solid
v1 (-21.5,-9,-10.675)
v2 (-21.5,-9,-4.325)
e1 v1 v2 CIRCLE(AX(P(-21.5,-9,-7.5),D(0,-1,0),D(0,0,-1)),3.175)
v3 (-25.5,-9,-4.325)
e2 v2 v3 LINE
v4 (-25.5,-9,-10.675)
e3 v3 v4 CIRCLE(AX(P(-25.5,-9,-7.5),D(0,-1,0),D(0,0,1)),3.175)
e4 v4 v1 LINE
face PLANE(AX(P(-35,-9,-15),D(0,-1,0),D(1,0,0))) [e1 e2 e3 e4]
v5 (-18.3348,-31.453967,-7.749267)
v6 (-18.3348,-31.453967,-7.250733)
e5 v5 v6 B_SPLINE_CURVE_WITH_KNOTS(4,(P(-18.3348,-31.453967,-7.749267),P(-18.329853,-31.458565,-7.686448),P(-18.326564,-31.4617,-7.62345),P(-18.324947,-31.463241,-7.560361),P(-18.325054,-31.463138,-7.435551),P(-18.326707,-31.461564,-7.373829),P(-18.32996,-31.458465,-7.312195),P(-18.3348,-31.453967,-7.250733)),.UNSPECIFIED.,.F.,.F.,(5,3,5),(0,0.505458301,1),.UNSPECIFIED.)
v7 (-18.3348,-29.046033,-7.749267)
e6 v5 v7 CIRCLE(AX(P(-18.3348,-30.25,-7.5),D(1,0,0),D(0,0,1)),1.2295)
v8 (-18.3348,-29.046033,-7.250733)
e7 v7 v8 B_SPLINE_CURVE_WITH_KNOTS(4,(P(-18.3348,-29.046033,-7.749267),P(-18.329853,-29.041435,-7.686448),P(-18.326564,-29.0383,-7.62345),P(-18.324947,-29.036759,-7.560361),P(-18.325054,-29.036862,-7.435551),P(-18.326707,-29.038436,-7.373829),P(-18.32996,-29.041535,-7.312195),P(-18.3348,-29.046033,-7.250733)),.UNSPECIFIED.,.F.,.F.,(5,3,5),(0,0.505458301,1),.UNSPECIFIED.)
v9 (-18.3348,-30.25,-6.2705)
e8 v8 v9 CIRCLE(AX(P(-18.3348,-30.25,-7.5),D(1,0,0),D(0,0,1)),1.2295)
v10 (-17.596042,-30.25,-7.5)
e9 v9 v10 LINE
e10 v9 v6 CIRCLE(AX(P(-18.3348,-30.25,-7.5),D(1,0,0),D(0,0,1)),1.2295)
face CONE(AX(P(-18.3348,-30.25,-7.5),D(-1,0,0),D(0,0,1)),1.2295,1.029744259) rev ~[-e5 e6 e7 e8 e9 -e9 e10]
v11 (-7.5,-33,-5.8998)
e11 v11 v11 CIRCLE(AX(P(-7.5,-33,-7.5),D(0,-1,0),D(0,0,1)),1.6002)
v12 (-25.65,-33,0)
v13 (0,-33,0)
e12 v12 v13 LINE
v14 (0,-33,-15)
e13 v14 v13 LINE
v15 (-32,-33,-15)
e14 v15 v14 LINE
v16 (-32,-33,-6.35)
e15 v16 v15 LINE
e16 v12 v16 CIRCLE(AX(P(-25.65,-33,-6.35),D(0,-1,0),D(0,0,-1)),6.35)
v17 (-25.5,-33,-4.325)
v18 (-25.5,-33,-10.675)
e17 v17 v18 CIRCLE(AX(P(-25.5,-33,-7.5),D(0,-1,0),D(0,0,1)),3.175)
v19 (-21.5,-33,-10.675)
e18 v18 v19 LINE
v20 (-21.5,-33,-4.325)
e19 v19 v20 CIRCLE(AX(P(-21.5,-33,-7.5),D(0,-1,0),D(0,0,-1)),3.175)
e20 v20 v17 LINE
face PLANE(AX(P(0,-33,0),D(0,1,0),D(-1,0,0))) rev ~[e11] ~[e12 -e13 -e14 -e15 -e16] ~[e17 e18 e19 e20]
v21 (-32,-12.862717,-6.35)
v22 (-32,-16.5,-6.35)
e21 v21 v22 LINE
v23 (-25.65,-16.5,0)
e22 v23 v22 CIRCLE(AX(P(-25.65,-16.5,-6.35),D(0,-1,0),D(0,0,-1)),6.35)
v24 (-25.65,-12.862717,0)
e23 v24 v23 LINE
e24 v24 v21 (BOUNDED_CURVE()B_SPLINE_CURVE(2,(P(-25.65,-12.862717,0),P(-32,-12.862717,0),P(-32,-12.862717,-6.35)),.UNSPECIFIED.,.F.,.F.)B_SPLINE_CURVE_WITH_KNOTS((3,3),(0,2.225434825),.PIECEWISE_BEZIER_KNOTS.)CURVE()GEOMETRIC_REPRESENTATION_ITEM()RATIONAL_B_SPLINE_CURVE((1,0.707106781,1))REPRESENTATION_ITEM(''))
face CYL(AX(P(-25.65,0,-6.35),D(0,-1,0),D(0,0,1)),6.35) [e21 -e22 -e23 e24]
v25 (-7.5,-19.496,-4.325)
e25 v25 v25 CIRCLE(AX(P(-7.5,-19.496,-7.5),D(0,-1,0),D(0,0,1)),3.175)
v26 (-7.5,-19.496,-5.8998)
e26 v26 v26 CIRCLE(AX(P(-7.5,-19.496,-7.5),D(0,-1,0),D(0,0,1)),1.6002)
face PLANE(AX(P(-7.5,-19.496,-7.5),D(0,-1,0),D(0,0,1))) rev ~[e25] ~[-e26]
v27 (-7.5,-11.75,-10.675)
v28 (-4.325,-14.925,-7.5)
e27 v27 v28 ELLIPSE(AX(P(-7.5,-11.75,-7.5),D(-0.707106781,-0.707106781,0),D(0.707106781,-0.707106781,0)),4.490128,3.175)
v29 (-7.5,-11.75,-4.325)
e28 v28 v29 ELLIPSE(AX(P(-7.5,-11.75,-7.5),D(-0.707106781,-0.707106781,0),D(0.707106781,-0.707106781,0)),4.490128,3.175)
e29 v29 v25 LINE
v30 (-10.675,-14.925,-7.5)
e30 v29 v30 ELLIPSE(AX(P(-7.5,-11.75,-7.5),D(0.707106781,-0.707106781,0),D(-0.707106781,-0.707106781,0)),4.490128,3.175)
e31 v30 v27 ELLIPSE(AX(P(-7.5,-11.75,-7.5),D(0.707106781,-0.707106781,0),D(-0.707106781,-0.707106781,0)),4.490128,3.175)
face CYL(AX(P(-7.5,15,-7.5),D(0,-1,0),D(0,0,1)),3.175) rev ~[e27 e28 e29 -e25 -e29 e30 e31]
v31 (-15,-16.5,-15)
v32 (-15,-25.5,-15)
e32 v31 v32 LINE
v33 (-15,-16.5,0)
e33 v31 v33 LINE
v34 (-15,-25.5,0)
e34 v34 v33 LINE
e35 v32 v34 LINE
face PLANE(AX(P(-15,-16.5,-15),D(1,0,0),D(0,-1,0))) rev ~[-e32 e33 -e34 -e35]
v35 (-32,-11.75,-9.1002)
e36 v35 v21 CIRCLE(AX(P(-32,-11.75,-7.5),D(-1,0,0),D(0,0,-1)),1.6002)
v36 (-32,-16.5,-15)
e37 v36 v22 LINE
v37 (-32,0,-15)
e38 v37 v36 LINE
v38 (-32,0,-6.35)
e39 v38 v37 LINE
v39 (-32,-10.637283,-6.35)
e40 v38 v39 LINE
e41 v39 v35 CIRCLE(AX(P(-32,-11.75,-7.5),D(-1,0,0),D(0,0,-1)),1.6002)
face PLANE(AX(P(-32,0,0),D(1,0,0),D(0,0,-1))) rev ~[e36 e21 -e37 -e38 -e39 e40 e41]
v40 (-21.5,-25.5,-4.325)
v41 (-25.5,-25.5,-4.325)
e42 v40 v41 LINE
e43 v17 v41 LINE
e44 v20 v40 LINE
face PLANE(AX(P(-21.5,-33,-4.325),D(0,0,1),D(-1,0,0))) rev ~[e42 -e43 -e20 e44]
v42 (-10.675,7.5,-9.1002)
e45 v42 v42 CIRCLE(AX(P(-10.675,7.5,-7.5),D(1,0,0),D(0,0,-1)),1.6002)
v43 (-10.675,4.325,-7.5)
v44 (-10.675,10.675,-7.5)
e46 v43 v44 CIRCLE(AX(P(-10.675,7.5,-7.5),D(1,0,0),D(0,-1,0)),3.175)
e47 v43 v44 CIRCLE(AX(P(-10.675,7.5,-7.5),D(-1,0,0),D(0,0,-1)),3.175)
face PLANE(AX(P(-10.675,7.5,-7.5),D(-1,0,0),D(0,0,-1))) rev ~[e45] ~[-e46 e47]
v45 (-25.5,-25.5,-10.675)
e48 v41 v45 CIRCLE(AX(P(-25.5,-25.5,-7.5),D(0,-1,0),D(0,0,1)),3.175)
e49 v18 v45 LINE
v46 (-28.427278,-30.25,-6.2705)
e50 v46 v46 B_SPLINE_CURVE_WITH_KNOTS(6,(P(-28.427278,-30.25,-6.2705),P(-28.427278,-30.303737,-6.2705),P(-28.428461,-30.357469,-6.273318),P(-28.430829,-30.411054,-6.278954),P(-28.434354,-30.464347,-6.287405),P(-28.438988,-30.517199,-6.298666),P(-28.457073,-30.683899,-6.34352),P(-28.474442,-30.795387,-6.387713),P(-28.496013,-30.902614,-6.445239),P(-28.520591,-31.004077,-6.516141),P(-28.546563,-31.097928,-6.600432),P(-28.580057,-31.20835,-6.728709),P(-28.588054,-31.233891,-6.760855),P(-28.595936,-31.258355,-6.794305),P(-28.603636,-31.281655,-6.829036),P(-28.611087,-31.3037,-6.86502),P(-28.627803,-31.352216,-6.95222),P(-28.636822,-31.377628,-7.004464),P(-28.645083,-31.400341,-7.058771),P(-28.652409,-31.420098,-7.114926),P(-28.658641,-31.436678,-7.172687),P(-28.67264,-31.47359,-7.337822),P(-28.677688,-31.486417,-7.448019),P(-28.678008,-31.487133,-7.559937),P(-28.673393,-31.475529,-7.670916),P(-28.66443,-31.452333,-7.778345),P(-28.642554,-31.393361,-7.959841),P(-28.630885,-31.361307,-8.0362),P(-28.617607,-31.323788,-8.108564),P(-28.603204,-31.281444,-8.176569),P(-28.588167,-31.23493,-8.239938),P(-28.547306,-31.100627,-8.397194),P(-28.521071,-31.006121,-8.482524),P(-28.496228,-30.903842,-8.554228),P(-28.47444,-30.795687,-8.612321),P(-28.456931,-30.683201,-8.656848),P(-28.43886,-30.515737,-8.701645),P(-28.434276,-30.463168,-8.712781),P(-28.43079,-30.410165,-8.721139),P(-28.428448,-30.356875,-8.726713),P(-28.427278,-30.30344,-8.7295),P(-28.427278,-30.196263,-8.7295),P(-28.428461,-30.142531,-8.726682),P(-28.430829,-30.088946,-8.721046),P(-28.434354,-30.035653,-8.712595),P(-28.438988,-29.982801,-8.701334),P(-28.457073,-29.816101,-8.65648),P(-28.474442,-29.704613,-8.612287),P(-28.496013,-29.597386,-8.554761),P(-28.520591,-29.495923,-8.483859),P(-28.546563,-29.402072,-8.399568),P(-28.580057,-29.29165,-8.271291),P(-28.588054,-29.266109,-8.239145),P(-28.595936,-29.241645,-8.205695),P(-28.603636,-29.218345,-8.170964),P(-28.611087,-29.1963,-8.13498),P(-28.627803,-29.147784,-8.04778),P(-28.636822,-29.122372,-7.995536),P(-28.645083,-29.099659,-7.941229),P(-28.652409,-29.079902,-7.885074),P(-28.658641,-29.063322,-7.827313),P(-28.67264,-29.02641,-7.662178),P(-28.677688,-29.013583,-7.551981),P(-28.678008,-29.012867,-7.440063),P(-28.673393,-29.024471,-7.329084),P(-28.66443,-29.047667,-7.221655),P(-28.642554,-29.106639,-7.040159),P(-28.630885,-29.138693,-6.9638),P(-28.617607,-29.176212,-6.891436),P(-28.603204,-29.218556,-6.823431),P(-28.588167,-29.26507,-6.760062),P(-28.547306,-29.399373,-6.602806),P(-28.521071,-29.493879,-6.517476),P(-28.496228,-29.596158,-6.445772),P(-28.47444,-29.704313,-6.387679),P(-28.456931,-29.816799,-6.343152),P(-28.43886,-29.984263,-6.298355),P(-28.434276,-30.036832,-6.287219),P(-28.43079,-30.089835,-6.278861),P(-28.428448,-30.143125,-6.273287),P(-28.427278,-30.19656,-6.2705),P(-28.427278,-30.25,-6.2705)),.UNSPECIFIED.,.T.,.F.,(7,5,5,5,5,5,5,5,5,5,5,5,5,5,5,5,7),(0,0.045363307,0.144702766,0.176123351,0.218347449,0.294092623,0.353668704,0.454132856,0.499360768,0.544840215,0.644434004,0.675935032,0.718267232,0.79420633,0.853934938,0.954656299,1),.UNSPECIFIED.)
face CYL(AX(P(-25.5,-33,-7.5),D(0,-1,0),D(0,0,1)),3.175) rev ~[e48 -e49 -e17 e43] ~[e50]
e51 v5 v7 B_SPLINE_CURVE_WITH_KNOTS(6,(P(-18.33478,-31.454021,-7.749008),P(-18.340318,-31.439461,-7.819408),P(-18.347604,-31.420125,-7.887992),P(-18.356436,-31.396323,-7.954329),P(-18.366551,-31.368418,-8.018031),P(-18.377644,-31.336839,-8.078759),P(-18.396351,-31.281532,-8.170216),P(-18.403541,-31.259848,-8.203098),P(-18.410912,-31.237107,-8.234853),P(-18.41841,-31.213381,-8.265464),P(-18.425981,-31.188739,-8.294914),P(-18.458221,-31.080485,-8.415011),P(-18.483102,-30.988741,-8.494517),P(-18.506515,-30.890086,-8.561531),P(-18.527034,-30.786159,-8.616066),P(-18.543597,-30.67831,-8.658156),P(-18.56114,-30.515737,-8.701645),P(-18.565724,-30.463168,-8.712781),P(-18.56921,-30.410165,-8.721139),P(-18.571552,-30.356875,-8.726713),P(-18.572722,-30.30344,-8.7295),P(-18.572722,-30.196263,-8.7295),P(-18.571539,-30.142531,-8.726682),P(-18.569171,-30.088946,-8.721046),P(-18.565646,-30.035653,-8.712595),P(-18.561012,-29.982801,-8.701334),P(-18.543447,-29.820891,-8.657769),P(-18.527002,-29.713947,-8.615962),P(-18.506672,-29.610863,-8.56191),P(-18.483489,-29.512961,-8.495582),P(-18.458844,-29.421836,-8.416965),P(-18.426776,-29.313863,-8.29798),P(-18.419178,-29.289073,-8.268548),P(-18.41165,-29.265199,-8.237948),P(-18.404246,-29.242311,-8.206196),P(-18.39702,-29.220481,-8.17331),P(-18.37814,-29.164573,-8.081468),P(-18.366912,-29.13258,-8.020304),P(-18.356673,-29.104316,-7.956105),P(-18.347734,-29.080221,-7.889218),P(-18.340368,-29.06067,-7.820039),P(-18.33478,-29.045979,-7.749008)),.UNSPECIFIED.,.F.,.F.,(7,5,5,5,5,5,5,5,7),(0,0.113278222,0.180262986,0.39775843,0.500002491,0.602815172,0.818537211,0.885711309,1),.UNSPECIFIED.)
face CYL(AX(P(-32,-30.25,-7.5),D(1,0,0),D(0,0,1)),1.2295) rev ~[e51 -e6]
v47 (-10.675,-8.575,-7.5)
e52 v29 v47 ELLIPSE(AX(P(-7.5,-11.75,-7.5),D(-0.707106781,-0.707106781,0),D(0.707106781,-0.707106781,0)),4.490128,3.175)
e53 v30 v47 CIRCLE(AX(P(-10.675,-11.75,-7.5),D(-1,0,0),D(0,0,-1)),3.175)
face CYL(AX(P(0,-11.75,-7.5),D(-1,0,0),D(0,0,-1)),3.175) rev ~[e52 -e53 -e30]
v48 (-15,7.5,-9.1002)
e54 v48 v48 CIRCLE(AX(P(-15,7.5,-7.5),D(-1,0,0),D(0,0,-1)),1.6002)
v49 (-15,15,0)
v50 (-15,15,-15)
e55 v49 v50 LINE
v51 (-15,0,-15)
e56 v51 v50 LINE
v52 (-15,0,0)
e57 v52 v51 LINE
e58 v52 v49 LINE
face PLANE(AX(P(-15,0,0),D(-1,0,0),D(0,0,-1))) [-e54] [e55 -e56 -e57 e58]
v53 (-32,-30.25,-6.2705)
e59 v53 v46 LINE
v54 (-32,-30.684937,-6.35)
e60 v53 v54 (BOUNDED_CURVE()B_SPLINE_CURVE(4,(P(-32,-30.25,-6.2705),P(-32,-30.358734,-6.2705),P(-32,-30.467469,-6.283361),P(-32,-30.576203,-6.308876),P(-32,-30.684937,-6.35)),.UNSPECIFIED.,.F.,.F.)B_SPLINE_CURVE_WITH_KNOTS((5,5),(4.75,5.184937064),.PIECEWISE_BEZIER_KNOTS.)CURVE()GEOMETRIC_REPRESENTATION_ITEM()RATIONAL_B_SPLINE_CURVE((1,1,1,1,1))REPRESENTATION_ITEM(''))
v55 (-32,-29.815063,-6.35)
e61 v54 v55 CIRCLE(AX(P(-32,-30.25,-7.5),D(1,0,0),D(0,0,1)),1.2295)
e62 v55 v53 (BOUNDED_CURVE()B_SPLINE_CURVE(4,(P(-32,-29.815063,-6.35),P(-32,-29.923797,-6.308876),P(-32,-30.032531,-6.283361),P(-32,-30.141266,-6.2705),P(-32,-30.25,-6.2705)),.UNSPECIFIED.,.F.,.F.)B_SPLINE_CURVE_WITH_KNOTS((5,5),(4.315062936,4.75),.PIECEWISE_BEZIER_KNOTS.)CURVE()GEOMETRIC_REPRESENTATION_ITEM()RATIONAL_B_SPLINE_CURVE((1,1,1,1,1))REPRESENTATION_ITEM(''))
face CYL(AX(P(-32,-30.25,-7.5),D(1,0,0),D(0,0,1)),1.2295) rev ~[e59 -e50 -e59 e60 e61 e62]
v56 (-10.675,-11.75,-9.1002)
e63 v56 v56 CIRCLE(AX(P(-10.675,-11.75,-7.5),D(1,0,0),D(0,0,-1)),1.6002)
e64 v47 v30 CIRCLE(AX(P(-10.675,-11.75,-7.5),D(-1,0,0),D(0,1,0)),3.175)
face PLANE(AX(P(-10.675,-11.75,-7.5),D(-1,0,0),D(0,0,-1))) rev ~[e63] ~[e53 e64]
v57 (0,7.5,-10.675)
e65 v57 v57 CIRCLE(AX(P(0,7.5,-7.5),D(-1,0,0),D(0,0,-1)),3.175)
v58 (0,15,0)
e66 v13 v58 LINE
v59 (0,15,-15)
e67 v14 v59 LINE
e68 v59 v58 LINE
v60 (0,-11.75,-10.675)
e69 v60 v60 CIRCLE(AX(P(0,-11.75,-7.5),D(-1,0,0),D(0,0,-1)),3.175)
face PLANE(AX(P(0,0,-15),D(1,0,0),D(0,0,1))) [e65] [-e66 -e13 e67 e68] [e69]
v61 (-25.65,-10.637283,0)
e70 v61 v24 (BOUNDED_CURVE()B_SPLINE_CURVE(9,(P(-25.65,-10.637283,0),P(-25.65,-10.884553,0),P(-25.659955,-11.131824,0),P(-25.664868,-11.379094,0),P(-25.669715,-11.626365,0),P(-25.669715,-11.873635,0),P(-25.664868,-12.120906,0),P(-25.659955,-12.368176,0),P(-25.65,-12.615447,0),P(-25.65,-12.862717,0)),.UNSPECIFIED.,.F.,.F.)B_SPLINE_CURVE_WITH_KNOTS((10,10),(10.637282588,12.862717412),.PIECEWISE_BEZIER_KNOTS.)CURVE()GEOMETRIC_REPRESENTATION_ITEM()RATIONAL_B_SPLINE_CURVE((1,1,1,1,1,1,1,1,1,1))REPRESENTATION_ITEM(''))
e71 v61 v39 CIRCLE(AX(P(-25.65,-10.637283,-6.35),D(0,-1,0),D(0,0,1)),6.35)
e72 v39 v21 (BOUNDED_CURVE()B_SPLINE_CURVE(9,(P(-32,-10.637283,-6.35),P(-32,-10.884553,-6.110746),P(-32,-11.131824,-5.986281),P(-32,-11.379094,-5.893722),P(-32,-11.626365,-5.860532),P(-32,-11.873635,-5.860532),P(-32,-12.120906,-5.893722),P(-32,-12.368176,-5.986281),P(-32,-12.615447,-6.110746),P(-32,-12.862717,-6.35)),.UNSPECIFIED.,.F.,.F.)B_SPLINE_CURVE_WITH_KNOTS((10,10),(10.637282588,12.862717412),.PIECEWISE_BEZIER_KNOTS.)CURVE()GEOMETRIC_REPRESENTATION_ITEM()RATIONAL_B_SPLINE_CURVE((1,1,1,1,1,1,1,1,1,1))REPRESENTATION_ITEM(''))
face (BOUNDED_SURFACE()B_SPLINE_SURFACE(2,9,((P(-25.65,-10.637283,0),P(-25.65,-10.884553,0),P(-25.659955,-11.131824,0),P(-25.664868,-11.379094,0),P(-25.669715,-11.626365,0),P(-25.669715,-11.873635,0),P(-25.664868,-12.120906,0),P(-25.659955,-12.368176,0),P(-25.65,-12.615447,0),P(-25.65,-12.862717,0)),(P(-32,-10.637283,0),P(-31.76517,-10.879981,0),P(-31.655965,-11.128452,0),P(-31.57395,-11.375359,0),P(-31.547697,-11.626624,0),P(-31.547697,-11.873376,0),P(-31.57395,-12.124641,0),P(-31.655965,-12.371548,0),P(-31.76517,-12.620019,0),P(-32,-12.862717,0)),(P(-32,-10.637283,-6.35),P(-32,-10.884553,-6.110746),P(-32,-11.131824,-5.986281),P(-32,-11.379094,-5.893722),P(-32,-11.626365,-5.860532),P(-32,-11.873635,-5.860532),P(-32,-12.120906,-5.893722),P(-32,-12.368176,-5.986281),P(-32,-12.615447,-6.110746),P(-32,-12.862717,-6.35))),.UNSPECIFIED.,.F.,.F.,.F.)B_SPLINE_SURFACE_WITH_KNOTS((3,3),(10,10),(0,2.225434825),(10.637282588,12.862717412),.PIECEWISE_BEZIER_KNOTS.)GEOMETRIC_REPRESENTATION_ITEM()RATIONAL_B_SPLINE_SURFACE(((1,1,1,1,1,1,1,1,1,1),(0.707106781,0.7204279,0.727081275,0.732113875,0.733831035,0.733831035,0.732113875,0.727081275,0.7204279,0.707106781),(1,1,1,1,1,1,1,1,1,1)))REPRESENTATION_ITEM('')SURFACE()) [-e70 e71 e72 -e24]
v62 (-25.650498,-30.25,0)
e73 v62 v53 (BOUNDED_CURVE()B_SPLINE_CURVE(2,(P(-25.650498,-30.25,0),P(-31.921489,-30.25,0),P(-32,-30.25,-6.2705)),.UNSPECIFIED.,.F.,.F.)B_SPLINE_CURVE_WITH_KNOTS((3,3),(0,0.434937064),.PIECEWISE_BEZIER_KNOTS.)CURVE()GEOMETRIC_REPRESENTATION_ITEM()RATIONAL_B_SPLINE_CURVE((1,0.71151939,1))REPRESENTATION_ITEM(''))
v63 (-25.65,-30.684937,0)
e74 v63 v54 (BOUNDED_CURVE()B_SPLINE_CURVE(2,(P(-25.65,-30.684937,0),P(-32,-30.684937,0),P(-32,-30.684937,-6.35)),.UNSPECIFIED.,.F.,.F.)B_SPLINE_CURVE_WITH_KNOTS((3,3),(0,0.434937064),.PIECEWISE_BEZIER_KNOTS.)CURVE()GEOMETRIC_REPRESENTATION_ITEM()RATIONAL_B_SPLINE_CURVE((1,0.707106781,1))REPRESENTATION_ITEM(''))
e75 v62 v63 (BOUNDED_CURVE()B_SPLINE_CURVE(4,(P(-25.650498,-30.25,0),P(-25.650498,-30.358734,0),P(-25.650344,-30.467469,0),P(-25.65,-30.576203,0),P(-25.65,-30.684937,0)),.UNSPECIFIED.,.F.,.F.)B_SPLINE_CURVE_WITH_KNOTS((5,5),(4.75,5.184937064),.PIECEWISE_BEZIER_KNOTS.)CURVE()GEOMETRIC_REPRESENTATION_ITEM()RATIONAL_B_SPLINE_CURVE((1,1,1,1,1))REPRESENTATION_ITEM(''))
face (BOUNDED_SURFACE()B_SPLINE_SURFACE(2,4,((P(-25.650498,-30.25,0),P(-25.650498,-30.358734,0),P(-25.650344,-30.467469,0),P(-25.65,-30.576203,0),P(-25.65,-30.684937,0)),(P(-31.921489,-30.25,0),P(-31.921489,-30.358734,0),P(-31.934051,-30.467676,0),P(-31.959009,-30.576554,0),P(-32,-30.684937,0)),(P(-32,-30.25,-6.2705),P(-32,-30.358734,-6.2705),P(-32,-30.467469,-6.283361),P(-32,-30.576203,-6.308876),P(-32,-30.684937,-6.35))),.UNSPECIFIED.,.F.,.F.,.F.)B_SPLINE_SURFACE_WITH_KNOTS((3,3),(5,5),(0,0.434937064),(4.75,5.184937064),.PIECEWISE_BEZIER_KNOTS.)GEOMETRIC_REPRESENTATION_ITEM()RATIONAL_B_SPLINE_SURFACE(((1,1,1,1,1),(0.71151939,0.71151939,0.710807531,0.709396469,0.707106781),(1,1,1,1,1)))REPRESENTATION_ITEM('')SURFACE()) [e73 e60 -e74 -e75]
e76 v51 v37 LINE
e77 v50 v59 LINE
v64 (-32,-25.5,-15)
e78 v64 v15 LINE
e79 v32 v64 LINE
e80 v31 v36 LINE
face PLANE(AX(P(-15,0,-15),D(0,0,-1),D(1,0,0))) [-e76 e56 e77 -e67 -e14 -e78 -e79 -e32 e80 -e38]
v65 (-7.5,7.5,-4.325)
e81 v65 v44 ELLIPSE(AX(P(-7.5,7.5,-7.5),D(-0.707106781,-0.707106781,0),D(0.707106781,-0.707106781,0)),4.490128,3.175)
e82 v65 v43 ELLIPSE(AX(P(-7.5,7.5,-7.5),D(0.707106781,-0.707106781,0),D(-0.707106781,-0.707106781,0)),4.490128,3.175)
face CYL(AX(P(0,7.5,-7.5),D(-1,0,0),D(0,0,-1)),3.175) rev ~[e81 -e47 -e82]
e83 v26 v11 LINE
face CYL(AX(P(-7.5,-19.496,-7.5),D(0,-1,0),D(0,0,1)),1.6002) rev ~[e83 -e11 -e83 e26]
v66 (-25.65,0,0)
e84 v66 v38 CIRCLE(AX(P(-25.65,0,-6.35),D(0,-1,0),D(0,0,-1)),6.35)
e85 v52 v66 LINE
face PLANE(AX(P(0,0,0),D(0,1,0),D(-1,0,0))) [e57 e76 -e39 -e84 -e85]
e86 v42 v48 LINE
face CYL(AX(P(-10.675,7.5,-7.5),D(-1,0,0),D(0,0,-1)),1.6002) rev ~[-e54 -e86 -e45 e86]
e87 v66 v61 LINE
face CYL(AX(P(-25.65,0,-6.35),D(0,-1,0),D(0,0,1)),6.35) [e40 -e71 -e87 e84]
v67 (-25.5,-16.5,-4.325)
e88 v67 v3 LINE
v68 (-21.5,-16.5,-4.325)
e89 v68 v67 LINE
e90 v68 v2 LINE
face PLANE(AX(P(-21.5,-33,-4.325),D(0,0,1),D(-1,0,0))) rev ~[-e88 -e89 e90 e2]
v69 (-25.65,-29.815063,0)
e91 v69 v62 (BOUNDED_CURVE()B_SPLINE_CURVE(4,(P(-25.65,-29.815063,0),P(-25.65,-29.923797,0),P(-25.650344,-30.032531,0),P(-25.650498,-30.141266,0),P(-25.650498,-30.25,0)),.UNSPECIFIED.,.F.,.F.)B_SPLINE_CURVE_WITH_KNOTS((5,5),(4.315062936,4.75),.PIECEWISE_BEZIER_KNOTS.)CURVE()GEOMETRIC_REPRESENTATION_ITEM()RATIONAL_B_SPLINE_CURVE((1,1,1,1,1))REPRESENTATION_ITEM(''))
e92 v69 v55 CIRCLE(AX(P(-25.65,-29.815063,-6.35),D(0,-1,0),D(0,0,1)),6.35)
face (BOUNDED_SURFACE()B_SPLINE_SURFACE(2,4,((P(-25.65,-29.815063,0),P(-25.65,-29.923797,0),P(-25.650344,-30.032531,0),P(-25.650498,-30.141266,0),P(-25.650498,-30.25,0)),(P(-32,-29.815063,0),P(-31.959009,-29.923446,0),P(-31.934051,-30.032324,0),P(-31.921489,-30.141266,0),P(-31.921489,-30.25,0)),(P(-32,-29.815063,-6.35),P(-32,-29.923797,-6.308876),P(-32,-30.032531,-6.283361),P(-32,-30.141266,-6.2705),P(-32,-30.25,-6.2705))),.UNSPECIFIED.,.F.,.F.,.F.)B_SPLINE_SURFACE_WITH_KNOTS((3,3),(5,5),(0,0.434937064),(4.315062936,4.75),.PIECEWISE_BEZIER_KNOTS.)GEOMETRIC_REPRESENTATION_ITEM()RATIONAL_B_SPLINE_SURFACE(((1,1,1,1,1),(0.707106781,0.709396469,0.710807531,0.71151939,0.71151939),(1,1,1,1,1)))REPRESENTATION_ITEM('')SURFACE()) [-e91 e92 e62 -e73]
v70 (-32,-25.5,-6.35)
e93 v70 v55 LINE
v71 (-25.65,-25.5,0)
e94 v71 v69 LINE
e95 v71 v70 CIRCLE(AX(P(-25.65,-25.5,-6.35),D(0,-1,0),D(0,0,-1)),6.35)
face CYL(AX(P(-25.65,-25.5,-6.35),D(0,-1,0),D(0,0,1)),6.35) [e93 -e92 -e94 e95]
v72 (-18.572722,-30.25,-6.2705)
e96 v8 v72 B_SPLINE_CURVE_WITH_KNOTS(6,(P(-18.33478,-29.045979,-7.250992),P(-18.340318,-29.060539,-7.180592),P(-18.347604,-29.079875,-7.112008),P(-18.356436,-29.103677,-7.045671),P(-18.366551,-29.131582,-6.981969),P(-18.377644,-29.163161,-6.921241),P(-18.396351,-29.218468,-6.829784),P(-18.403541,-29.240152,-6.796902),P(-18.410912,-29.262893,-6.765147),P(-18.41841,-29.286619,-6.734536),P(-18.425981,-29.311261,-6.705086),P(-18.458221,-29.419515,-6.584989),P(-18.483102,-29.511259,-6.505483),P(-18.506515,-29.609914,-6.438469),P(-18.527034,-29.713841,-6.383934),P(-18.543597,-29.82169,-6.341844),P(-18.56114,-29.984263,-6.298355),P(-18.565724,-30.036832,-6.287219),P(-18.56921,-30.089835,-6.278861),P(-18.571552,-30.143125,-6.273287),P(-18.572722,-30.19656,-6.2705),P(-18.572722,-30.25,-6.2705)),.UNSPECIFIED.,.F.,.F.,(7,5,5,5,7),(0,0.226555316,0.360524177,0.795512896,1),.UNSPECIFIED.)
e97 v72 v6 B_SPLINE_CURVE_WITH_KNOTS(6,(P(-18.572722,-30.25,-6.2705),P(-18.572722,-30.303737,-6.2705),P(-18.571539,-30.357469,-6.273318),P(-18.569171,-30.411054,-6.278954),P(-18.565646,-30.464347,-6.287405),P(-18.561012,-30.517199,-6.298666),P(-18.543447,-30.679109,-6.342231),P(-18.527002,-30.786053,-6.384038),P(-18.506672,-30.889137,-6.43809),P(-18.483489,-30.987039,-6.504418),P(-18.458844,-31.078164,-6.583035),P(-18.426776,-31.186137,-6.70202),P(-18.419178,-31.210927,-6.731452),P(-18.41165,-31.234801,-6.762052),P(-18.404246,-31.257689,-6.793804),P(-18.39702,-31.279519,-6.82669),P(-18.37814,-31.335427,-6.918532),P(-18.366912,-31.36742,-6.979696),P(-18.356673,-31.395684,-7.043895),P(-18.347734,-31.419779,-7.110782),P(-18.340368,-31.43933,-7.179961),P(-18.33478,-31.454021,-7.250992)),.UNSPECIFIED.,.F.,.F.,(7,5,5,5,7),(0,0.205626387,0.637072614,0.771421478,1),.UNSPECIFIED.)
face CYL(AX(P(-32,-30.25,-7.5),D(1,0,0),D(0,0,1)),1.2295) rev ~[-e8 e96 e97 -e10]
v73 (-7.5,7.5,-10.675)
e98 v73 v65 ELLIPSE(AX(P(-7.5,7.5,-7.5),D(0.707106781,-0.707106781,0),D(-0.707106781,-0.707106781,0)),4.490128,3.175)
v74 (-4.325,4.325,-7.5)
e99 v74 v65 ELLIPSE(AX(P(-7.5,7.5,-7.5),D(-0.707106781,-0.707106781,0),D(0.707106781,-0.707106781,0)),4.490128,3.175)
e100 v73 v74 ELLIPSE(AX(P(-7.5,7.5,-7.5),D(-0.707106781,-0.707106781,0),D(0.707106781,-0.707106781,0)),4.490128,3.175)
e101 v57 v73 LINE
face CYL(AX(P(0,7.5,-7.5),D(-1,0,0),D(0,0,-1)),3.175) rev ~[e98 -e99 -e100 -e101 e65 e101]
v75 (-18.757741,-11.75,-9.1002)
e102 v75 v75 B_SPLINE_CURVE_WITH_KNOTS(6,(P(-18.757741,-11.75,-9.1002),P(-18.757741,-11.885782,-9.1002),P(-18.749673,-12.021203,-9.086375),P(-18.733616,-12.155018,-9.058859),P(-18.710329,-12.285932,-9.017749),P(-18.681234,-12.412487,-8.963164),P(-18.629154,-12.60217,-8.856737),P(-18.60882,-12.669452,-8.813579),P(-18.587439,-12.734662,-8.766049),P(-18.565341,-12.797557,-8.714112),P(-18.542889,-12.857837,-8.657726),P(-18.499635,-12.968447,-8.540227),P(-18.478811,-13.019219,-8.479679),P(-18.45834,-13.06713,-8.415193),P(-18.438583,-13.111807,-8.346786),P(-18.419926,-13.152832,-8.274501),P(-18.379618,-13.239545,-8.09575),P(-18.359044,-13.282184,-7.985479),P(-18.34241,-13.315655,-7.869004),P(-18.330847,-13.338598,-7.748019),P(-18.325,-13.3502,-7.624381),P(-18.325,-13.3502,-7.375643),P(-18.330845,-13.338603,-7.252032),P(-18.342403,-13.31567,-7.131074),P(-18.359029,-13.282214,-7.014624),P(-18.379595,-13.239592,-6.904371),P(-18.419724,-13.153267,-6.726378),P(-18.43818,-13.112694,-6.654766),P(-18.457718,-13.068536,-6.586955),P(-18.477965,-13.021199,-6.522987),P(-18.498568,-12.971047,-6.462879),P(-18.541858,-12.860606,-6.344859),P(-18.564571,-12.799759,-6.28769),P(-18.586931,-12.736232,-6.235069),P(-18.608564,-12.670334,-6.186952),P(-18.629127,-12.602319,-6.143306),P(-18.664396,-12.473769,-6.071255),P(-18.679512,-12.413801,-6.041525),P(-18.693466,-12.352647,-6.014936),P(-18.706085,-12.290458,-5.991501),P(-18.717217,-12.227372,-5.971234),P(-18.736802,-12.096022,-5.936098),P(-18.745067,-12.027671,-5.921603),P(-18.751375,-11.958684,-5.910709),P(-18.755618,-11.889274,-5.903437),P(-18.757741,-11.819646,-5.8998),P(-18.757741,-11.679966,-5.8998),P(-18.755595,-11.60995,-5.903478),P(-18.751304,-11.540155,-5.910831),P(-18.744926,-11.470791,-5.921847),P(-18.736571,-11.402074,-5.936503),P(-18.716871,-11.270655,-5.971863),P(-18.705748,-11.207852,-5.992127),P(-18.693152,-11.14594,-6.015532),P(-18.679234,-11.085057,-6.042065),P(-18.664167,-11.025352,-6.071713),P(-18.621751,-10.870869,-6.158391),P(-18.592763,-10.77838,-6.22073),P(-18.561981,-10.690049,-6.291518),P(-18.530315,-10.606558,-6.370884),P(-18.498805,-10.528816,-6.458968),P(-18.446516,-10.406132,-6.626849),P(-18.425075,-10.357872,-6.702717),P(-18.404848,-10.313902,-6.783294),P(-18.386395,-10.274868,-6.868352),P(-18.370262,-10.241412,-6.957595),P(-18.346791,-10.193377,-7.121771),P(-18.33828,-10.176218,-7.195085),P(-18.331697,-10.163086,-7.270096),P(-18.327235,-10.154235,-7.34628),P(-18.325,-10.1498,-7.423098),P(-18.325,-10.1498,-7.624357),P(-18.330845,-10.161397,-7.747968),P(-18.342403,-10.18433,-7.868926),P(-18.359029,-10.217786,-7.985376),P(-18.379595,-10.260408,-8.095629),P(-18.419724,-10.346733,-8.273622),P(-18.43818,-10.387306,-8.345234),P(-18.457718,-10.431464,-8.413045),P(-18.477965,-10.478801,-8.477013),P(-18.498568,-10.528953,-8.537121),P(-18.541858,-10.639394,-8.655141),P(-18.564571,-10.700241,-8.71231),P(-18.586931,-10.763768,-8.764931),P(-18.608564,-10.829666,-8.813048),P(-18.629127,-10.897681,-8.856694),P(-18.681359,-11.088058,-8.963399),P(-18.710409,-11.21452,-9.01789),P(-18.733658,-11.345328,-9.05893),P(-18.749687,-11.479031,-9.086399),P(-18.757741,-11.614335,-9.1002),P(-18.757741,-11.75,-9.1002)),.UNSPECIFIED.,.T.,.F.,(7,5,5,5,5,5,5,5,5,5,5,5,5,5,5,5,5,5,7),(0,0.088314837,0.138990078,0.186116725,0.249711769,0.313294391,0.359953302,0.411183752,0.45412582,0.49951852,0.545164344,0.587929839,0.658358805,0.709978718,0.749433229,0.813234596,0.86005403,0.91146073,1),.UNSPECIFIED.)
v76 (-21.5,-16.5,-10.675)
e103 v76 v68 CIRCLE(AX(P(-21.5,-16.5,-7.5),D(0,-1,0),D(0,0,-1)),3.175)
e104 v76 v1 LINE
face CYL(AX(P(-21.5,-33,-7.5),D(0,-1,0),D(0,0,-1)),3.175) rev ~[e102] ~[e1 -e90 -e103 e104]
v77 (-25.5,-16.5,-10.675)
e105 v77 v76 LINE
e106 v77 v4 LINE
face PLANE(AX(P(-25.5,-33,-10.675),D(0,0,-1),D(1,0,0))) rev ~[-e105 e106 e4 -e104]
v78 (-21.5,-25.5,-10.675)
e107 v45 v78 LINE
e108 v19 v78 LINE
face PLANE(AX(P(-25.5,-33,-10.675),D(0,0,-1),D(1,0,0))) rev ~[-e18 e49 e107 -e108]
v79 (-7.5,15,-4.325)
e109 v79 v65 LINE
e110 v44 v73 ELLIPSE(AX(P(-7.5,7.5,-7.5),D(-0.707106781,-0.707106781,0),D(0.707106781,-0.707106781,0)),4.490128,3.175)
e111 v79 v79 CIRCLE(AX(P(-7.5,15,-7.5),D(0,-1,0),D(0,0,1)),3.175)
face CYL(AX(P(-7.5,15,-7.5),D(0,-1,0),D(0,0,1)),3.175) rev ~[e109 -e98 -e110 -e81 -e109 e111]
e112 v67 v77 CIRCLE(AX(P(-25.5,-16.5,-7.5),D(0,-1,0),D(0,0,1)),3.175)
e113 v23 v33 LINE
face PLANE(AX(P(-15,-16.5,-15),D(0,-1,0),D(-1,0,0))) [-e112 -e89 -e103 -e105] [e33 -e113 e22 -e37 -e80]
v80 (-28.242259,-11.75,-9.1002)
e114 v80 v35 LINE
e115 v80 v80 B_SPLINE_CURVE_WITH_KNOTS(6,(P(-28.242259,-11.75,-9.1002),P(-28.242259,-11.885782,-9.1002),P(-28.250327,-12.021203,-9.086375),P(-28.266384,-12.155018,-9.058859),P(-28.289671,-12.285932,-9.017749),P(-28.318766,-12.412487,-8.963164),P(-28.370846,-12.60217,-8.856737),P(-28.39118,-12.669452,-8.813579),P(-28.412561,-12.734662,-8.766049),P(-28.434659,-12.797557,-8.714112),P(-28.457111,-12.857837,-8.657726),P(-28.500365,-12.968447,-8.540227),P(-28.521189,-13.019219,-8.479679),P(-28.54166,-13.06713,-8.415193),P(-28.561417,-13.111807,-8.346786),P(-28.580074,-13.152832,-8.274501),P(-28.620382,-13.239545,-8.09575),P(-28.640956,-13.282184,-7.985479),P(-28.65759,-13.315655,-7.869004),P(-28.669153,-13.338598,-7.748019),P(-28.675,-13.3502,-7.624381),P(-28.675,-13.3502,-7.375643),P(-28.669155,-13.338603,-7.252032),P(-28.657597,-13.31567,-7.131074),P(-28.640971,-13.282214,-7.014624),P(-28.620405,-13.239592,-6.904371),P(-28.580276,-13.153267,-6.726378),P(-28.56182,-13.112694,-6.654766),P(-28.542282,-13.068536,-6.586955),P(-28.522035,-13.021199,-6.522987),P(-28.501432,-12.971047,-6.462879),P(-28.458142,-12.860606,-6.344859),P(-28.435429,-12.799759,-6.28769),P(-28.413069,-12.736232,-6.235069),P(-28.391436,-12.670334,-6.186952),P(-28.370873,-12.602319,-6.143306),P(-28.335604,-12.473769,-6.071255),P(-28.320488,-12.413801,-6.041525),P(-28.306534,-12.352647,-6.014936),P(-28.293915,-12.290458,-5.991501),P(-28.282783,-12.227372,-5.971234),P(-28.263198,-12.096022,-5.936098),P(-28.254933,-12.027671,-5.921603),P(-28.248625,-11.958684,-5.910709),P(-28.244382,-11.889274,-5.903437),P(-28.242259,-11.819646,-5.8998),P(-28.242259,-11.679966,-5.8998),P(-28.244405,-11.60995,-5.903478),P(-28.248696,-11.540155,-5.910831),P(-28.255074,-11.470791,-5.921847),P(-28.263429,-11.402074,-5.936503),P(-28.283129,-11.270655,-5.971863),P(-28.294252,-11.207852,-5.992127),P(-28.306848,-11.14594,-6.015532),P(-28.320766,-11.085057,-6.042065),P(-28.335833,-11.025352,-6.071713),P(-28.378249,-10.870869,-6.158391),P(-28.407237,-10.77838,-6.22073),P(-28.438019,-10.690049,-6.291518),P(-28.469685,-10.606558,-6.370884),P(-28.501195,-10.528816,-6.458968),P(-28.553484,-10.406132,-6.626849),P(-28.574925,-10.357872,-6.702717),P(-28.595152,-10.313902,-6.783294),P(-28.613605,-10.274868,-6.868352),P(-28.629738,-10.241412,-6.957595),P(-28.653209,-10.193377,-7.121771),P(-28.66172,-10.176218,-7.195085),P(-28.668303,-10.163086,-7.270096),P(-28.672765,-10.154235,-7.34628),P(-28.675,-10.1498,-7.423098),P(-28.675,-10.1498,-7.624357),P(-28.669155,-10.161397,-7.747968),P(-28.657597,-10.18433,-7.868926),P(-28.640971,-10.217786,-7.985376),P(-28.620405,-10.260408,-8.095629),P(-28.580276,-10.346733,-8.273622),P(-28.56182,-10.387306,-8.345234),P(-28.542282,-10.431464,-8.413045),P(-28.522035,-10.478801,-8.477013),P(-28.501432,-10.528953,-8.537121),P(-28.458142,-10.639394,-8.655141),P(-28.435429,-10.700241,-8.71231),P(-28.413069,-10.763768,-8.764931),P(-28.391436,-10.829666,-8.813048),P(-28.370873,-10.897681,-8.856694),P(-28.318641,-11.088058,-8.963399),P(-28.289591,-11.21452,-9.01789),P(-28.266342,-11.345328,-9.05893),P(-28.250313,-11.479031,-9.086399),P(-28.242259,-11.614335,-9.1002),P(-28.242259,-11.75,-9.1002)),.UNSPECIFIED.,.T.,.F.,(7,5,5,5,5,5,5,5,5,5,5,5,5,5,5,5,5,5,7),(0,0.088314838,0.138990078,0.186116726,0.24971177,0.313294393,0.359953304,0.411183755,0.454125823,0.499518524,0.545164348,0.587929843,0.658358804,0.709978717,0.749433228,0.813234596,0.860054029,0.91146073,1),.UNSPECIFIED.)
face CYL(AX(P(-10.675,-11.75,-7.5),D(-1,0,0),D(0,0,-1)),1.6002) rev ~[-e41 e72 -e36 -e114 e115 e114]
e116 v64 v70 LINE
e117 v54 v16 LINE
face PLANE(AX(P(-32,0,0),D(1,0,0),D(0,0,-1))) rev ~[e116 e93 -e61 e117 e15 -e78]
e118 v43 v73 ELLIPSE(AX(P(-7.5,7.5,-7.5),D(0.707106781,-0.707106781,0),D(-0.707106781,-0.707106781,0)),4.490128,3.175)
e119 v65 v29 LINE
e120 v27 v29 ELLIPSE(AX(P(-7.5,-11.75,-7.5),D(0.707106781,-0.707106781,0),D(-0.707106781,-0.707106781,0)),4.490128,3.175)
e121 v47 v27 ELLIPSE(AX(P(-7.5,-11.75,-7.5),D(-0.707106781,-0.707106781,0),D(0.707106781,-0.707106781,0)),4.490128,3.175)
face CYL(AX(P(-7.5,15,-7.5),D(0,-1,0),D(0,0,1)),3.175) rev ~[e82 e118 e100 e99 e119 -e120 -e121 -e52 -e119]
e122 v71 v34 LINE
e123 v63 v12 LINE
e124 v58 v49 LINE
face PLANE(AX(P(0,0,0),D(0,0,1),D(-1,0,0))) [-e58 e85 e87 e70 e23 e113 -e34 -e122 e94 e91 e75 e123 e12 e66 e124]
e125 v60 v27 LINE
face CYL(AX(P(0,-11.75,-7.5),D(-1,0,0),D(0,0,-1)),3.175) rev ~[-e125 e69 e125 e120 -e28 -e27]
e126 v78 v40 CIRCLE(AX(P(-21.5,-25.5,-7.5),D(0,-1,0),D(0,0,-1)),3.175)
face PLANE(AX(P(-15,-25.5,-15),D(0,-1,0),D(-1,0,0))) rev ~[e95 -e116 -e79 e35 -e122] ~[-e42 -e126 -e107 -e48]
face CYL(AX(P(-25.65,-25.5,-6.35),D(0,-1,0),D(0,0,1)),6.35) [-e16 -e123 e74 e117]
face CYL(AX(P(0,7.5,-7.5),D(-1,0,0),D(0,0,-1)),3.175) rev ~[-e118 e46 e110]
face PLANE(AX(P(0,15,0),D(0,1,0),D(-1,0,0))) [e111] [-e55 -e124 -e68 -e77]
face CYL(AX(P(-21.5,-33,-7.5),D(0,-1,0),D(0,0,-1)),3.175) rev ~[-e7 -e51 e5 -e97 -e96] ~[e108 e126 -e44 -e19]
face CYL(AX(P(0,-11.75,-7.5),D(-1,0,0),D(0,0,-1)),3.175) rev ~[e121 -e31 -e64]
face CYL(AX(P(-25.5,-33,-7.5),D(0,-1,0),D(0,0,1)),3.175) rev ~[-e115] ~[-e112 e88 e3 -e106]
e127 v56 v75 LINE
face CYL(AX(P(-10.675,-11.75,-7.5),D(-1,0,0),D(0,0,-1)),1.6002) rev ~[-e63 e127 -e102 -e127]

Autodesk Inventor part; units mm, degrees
ref_plane "YZ Plane" through (0, 0, 0) normal (1, 0, 0) x (0, 1, 0)
ref_plane "XZ Plane" through (0, 0, 0) normal (0, 1, 0) x (-1, 0, 0)
ref_plane "XY Plane" through (0, 0, 0) normal (0, 0, 1) x (1, 0, 0)
sketch "Base Profile" plane through (0, 0, 0) normal (0, 1, 0) x (-1, 0, 0)
  line L0 (0, 0) -> (15, 0)
  line L1 (15, 0) -> (15, -15)
  line L2 (15, -15) -> (0, -15)
  line L3 (0, -15) -> (0, 0)
  line L4 (15, 0) -> (32, 0)
  line L5 (32, 0) -> (32, -15)
  line L6 (32, -15) -> (15, -15)
  line L7 (15, -15) -> (15, 0)
  dimension "d164" = 15
  dimension "d165" = 15
  dimension "d166" = 17
  dimension "d167" = 15
extrude "Stock" add sketch "Base Profile" against normal blind 33
extrude "Extrusion Post" add sketch "Base Profile" along normal blind 15 contours L0 L1 L2 L3
sketch "Sketch27" plane through (0, -33, -15) normal (0, 0, -1) x (-1, 0, 0)
  line L0 (0, 0) -> (0, 48) projected
  line L1 (32, 0) -> (0, 0) projected
  line L2 (32, 33) -> (32, 0) projected
  line L3 (15, 33) -> (32, 33) projected
  line L4 (15, 33) -> (15, 48) projected
  line L5 (0, 48) -> (15, 48) projected
  line L6 (0, 16.5) -> (32, 16.5)
  line L7 (0, 7.5) -> (32, 7.5)
  line L8 (15, 33) -> (15, 0)
  point P0 (15, 16.5)
  point P1 (15, 7.5)
  dimension "d247" = 16.5
  dimension "d290" = 7.5
extrude "Lower Half Cut" cut sketch "Sketch27" against normal through all contours L8 L6 L2 L7
sketch "Bottom Profile" plane through (-35, -33, -15) normal (0, -1, 0) x (1, 0, 0)
  line L0 (13.5, 7.5) -> (9.5, 7.5) construction
  line L1 (13.5, 10.675) -> (9.5, 10.675)
  line L2 (9.5, 4.325) -> (13.5, 4.325)
  arc A0 (13.5, 4.325) -> (13.5, 10.675) centre (13.5, 7.5) ccw
  arc A1 (9.5, 10.675) -> (9.5, 4.325) centre (9.5, 7.5) ccw
  line L3 (3, 15) -> (3, 0) projected
  line L4 (35, 15) -> (3, 15) projected
  point P0 (11.5, 7.5)
  dimension "d291" = 4
  dimension "d292" = 6.35
  dimension "d293" = 6.5
  dimension "d294" = 7.5
extrude "Slot Cut" cut sketch "Bottom Profile" against normal blind 24
sketch "Front Hole Pattern" plane through (0, -33, 0) normal (1, 0, 0) x (0, 0, -1)
  line L0 (0, 0) -> (0, 48) projected
  circle A0 centre (7.5, 40.5) radius 3.175
  line L1 (0, 48) -> (15, 48) projected
  circle A1 centre (7.5, 21.25) radius 3.175
  line L2 (15, 0) -> (0, 0) projected
  dimension "d317" = 6.35
  dimension "d318" = 7.5
  dimension "d319" = 7.5
  dimension "d354" = 6.35
  dimension "d356" = 21.25
sketch "Sketch33" plane through (0, 15, 0) normal (0, 1, 0) x (1, 0, 0)
  line L0 (-15, 15) -> (-15, 0) projected
  line L1 (-15, 0) -> (0, 0) projected
  line L2 (0, 0) -> (0, 15) projected
  line L3 (0, 15) -> (-15, 15) projected
  circle A0 centre (-7.5, 7.5) radius 3.175
  dimension "d340" = 6.35
  dimension "d341" = 7.5
  dimension "d342" = 7.5
hole "Top Mounting Hole" at (-7.5, 15, -7.5) direction (0, -1, 0) diameter 3.2004 end through all counterbore diameter 6.35 counterbore depth 34.496 clearance for "Socket Head Cap Screw" size "M3" standard "Ansi Metric M Profile"
sketch "Rear Hole Patttern" plane through (-32, -33, -15) normal (-1, 0, 0) x (0, 0, 1)
  line L0 (15, 7.5) -> (0, 7.5) projected
  line L1 (0, 7.5) -> (0, 0) projected
  line L2 (15, 0) -> (0, 0) projected
  line L3 (15, 7.5) -> (15, 0) projected
  circle A0 centre (7.5, 2.75) radius 1.5
  line L4 (0, 16.5) -> (15, 16.5) projected
  line L5 (15, 33) -> (15, 16.5) projected
  line L6 (0, 33) -> (15, 33) projected
  line L7 (0, 33) -> (0, 16.5) projected
  circle A1 centre (7.5, 21.25) radius 1.5
  dimension "d330" = 3
  dimension "d331" = 7.5
  dimension "d352" = 3
  dimension "d358" = 2.75
  dimension "d359" = 4.75
hole "Adjustment Holes" at (-32, -30.25, -7.5) direction (1, 0, 0) diameter 2.459 depth 13.6652 tip angle 118 thread size "M3x0.5" class "6H" standard "ANSI Metric M Profile"
hole "Front Adjustment Hole" at (0, -11.75, -7.5) direction (-1, 0, 0) diameter 3.2004 end through all counterbore diameter 6.35 counterbore depth 10.675 clearance for "Socket Head Cap Screw" size "M3" standard "Ansi Metric M Profile"
hole "Front Mounting Hole" at (0, 7.5, -7.5) direction (-1, 0, 0) diameter 3.2004 end through all counterbore diameter 6.35 counterbore depth 10.675 clearance for "Socket Head Cap Screw" size "M3" standard "Ansi Metric M Profile"
fillet "Fillet2" radius 6.35 2 edges at (-32, -29.25, 0) (-32, -8.25, 0)
equation "\"d164\" = extrusionWidth"
equation "\"d165\" = extrusionWidth"
equation "\"d166\" = idlerLength"
equation "\"d167\" = d165"
equation "\"d168\" = extrusionOffset"
equation "\"extrusionWidth\" = 15"
equation "\"idlerLength\" = 17"
equation "\"bearingOffsetFromBottom\" = 7.5"
equation "\"extrusionOffset\" = 33"
equation "\"bearingStackHeight\" = 9"
equation "\"bearingSlotLength\" = 4"
equation "\"bearingClearance\" = 13"
equation "\"pinSupportLength\" = 2"
properties part number "A Idler" material "Aluminum 6061"
